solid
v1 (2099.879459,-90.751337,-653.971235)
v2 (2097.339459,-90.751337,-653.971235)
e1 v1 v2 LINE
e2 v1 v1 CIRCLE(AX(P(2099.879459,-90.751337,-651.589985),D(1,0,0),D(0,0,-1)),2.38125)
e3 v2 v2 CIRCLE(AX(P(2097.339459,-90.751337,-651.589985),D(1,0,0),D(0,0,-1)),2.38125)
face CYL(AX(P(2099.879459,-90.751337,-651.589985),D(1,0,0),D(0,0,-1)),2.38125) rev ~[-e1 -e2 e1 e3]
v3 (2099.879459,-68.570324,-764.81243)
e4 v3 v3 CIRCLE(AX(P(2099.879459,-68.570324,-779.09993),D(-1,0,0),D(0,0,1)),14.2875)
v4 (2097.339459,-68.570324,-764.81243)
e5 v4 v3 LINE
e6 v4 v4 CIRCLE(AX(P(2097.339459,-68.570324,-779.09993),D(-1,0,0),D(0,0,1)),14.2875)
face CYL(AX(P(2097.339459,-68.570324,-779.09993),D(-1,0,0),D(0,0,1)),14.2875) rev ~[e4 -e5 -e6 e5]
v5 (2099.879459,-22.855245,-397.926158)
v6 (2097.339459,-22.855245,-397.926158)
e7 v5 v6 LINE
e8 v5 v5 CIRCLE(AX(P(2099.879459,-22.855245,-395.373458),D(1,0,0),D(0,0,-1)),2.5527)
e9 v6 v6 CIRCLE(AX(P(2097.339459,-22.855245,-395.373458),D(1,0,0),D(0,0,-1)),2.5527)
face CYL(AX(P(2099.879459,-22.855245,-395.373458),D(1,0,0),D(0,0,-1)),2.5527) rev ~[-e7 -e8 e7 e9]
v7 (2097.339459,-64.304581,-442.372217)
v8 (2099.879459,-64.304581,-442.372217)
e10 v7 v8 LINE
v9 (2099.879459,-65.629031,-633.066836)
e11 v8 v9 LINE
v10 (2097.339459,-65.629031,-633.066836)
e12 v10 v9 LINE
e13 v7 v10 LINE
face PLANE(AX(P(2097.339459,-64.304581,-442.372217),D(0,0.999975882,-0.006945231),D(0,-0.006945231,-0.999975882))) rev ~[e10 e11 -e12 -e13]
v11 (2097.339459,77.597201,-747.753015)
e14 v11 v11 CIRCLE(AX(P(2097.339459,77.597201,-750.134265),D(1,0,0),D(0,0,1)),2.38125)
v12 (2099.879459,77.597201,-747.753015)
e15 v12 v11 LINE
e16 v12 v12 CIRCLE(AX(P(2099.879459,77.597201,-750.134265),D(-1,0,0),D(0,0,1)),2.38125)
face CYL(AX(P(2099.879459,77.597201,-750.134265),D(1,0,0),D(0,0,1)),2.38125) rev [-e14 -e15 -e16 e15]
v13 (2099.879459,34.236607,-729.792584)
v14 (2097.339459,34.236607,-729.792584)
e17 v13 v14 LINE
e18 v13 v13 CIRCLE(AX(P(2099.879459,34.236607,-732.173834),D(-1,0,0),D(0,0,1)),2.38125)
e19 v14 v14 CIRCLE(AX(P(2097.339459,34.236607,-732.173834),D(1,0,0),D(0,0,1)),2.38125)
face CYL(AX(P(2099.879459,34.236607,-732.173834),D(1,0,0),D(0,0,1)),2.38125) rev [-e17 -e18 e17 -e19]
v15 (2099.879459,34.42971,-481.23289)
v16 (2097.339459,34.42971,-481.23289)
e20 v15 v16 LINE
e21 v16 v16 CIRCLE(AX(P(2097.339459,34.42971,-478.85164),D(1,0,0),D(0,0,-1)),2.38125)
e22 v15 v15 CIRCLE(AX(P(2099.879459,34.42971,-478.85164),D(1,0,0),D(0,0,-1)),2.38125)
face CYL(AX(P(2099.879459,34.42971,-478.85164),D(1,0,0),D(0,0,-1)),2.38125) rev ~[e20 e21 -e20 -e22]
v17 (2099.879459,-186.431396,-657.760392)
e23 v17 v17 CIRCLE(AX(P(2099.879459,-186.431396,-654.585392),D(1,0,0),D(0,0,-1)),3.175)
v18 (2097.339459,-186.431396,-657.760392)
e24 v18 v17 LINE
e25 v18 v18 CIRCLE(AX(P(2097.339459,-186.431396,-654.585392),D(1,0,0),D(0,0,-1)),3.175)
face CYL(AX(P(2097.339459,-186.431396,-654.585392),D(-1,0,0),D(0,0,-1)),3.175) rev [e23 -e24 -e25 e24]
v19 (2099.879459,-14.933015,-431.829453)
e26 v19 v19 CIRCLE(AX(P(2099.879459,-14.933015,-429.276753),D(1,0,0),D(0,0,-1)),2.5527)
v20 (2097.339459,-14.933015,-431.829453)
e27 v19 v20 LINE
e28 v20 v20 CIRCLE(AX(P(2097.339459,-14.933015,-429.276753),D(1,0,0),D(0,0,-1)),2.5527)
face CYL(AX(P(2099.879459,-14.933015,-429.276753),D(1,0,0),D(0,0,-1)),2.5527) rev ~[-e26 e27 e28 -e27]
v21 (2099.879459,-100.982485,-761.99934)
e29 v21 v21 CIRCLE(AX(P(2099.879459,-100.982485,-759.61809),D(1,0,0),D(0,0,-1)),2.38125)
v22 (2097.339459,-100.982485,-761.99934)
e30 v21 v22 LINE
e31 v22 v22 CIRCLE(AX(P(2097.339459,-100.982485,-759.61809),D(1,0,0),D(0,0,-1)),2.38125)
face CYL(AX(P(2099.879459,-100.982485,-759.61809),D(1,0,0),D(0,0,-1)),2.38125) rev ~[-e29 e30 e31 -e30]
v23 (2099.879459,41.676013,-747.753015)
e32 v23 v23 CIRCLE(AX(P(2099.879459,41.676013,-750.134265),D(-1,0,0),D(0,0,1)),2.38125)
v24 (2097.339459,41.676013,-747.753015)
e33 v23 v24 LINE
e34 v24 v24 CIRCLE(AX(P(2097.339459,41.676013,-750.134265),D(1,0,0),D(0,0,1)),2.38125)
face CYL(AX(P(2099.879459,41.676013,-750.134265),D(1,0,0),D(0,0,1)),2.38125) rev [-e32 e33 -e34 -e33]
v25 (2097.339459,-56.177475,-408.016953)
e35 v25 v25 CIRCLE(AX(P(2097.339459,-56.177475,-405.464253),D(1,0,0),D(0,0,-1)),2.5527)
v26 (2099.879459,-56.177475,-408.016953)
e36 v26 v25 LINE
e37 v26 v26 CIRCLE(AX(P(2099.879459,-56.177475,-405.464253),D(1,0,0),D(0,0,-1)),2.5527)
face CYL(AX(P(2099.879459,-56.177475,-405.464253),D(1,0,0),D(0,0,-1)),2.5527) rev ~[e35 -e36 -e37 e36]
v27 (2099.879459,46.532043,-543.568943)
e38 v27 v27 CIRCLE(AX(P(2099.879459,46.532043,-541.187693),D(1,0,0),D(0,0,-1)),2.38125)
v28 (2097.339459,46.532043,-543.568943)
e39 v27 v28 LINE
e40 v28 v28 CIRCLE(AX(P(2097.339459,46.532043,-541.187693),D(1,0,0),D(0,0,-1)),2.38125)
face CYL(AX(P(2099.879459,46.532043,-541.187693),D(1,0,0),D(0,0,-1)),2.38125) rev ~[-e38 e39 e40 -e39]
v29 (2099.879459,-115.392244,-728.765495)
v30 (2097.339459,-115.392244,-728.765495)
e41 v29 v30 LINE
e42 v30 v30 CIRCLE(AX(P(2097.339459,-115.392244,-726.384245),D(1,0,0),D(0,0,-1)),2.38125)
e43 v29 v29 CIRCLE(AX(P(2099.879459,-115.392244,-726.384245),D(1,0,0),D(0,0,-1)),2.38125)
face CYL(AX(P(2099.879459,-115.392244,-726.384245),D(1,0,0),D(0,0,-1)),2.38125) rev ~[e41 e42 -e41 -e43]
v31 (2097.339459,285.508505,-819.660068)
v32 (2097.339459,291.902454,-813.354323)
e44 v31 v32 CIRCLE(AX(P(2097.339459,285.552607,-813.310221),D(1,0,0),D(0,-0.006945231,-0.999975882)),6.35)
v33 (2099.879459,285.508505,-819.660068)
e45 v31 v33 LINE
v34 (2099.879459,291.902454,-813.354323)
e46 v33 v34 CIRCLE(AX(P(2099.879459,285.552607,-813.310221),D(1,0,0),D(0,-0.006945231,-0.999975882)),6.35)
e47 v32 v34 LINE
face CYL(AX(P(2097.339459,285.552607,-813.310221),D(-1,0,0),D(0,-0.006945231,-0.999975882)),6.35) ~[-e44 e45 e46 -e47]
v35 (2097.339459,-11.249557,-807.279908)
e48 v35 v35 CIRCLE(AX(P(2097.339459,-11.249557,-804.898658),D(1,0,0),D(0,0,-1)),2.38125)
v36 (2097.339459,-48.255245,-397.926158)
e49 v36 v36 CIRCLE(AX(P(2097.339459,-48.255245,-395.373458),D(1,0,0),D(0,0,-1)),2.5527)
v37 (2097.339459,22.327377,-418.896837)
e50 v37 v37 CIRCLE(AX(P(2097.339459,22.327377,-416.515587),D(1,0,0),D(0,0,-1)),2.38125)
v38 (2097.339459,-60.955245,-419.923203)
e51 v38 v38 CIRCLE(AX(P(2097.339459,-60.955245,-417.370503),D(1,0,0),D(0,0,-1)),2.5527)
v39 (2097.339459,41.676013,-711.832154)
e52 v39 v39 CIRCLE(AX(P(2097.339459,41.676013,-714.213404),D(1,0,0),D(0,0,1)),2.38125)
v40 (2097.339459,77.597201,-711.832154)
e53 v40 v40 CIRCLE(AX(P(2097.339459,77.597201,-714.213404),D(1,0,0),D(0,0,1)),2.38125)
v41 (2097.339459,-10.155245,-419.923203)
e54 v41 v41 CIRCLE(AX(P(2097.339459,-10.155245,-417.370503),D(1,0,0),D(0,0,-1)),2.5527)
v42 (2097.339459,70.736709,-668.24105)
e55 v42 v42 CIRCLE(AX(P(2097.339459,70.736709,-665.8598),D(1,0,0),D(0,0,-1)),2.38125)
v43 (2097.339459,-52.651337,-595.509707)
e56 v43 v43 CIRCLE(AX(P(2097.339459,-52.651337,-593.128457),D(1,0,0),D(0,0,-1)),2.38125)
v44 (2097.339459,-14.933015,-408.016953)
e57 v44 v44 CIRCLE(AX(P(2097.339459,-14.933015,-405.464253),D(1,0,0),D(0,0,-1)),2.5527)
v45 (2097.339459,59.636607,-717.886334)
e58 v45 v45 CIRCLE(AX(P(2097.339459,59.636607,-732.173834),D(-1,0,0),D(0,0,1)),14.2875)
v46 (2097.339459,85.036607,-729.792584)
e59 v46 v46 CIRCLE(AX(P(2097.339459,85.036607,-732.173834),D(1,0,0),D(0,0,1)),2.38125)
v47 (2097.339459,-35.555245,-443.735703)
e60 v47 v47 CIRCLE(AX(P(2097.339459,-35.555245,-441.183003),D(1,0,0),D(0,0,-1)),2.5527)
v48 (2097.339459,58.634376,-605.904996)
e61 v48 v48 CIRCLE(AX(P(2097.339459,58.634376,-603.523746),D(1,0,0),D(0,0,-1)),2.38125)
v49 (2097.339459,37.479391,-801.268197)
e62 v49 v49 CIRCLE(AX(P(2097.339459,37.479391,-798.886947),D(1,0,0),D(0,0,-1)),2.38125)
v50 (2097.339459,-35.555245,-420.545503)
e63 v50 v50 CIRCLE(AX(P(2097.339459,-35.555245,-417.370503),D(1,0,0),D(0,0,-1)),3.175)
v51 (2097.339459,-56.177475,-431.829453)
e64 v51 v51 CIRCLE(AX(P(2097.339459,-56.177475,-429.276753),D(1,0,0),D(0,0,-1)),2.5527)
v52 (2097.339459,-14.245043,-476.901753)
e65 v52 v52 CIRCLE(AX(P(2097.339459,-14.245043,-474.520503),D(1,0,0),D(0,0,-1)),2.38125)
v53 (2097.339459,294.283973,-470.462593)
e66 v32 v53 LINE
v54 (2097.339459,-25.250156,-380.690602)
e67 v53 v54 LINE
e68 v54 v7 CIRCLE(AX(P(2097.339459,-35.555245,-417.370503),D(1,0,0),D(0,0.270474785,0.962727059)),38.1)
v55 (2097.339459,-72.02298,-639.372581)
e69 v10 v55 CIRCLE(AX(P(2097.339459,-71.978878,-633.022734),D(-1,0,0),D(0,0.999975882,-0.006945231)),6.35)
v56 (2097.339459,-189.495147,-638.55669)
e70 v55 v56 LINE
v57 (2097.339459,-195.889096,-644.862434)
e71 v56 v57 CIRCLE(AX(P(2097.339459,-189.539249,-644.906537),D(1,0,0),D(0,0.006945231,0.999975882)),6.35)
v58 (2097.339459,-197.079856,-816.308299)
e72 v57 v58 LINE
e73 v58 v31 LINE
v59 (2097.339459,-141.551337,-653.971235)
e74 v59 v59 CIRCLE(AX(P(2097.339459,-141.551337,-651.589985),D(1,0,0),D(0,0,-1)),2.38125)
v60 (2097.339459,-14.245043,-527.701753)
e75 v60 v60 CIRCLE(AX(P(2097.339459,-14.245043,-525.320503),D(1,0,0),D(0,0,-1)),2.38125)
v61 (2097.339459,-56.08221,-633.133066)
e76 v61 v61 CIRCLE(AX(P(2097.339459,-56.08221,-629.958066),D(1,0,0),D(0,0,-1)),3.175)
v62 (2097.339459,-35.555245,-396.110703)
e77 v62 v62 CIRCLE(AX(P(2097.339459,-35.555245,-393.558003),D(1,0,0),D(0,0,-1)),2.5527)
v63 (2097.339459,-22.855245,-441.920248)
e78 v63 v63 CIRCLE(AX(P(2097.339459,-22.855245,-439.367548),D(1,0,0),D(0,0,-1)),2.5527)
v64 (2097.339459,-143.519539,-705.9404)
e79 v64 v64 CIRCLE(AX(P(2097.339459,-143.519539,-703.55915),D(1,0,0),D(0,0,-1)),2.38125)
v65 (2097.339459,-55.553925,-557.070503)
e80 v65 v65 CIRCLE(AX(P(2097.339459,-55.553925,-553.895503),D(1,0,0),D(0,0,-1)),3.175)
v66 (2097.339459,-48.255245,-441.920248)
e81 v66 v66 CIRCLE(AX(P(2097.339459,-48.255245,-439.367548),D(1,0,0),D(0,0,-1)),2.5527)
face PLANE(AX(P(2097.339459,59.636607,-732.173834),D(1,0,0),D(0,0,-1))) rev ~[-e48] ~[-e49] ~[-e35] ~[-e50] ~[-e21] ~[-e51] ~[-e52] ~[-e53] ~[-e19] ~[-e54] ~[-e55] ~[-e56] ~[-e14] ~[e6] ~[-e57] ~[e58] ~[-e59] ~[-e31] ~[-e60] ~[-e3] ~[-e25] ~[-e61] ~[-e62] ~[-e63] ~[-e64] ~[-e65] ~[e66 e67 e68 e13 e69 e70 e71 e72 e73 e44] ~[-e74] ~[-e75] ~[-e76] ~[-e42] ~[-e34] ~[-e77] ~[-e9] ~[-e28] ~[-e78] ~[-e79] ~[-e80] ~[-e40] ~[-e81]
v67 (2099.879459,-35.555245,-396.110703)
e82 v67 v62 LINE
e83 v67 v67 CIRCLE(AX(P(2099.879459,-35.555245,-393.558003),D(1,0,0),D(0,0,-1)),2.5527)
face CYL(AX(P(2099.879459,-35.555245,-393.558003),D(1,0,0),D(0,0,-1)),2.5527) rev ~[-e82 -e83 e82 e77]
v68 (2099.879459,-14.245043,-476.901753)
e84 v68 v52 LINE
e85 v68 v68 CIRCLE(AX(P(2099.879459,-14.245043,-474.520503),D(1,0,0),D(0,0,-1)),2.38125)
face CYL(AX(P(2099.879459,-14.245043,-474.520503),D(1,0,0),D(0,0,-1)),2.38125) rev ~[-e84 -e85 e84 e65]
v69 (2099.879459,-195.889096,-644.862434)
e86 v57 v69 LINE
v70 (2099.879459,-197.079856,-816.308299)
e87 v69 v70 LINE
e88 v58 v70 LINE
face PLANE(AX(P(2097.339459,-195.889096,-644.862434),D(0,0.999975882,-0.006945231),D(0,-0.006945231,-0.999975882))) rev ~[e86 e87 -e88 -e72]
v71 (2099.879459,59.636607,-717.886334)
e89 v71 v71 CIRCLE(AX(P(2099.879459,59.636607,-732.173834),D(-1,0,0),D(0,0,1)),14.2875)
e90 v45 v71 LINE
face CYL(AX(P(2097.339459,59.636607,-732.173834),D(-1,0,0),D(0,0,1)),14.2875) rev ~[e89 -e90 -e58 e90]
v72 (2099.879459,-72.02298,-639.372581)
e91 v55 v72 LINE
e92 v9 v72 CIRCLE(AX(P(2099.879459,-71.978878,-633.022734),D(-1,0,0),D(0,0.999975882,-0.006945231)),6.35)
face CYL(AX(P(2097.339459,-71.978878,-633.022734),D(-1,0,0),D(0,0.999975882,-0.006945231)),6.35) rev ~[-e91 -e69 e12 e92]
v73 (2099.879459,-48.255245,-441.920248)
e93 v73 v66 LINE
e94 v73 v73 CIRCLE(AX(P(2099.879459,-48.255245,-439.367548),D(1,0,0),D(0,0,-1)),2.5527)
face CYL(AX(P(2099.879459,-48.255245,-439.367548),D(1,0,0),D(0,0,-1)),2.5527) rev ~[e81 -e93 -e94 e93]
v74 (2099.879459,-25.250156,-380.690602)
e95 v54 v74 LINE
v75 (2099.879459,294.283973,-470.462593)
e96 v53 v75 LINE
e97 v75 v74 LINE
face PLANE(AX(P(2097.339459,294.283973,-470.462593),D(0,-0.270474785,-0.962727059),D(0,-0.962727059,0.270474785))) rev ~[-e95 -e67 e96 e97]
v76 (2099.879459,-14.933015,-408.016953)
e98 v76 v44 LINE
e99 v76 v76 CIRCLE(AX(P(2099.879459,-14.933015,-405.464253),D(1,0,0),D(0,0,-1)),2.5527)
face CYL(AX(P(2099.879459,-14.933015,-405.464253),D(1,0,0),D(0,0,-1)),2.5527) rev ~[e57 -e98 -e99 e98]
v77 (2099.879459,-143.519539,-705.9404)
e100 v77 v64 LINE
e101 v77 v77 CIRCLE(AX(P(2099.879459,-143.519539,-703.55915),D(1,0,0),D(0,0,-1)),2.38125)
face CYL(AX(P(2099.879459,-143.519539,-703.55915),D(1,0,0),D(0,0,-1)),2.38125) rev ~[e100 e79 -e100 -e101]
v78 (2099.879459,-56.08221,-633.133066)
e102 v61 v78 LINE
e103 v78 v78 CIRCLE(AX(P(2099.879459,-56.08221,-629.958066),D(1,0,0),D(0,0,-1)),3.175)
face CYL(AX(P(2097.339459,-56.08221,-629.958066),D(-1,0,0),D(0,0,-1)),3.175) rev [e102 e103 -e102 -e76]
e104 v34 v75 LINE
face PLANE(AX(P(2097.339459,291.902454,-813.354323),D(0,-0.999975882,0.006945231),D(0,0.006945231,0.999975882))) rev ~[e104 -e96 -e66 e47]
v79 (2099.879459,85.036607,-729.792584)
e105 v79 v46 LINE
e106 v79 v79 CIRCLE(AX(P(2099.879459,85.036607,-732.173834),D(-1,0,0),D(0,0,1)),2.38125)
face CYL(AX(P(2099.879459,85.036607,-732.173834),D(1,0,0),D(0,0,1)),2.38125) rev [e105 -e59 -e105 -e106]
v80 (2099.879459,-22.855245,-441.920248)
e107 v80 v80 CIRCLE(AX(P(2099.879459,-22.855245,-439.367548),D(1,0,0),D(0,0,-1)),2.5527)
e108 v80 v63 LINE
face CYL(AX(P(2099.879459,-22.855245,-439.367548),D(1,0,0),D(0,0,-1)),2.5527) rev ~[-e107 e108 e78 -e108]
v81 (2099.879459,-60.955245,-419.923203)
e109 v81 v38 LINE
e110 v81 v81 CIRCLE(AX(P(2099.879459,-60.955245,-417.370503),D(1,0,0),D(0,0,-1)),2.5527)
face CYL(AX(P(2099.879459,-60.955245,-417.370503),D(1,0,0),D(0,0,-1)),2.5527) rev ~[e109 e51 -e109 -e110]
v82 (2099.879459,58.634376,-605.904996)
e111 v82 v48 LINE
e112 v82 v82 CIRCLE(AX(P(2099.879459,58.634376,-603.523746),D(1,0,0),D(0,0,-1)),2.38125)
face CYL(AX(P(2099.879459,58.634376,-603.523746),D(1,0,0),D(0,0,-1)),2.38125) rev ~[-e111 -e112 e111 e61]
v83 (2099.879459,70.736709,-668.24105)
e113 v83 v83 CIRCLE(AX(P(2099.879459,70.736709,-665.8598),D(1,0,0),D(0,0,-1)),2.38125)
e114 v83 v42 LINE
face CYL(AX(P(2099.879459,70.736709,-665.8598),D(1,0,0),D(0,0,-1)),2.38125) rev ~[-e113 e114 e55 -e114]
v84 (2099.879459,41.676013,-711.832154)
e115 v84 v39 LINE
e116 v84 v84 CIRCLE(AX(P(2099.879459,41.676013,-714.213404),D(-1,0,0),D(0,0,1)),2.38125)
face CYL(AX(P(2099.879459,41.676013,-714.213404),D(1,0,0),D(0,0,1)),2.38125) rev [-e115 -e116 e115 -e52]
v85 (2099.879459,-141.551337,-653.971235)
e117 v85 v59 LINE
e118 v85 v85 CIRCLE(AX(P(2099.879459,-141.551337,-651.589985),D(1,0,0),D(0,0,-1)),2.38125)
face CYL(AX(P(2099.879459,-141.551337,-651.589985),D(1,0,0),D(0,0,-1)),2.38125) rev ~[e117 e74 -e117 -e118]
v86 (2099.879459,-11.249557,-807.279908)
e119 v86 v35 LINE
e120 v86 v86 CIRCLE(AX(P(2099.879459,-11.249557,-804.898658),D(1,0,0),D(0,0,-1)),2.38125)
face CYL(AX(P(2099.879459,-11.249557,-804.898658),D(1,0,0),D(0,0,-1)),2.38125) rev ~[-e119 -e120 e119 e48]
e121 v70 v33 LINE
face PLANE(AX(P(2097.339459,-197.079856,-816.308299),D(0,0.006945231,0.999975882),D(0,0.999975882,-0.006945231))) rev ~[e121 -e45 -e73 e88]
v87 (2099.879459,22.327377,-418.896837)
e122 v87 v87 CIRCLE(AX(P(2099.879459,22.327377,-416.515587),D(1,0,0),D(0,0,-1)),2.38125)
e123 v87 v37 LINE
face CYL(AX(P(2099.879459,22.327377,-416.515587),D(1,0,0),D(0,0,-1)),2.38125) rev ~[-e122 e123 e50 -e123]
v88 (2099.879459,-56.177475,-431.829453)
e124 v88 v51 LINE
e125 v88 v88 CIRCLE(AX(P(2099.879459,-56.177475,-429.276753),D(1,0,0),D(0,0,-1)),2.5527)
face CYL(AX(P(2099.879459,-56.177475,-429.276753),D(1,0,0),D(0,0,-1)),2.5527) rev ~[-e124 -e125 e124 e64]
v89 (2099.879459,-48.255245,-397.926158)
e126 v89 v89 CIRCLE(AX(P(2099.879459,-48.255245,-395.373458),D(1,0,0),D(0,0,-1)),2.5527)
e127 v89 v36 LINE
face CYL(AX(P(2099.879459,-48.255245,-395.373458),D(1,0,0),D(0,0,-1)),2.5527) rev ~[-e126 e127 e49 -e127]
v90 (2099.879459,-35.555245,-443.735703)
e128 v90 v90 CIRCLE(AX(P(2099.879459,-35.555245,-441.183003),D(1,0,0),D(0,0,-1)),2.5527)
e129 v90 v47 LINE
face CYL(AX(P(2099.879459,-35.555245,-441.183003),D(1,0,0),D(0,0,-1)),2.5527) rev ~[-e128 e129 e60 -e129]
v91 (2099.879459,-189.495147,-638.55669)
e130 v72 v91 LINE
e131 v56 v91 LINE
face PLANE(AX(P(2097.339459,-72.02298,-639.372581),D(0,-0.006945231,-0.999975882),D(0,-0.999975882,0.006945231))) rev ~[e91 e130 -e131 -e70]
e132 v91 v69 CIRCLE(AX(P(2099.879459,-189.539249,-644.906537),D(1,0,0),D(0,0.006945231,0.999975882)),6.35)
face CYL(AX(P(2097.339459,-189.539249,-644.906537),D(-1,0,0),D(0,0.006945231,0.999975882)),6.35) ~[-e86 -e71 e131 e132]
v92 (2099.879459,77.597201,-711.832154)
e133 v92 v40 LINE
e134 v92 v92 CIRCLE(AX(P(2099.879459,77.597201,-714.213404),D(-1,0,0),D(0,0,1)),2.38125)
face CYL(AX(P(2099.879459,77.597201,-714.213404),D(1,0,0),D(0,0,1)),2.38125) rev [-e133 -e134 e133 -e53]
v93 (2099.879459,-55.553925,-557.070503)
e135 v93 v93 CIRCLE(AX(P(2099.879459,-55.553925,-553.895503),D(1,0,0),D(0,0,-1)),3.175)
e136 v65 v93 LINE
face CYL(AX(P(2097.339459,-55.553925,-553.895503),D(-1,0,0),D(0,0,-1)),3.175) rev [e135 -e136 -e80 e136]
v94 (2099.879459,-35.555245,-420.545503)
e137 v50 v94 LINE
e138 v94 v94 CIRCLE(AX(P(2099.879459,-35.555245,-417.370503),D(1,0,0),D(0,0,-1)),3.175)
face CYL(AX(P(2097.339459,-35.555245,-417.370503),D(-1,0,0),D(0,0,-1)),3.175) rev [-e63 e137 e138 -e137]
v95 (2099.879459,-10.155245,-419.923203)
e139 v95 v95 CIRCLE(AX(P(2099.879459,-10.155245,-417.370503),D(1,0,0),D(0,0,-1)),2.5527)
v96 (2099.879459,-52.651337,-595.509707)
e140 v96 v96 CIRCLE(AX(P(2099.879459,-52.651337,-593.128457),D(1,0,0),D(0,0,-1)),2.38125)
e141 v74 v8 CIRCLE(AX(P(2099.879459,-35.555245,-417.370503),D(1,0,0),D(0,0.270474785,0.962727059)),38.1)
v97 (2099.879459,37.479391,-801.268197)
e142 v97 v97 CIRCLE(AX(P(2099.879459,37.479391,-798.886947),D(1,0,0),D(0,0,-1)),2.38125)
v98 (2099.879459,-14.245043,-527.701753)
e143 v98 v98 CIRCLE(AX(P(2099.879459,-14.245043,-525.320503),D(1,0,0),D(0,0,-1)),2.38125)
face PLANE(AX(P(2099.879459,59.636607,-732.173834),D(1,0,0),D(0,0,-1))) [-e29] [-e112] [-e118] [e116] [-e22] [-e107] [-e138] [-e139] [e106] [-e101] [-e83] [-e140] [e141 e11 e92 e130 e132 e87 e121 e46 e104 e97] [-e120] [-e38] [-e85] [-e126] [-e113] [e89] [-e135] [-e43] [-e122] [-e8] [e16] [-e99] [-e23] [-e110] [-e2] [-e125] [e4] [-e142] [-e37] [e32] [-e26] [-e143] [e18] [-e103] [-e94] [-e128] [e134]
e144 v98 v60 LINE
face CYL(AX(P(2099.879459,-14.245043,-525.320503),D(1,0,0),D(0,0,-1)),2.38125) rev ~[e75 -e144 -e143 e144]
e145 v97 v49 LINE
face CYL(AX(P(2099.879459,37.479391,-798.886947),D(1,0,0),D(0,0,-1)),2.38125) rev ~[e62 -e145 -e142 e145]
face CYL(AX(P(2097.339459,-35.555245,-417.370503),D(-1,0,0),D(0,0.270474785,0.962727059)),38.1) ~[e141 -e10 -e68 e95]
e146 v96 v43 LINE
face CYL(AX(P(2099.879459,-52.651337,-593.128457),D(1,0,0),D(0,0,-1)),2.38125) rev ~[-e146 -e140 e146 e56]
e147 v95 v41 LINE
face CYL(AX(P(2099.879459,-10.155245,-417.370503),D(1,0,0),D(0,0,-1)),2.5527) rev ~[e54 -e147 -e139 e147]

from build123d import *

# Parameters (mm, degrees)
SKETCH1_R           = 3.175
BOSS_EXTRUDE1_DEPTH = 2.54
SKETCH2_R           = 2.38125
CUT_EXTRUDE1_DEPTH  = 3.54
SKETCH5_R           = 2.5527
CUT_EXTRUDE2_DEPTH  = 3.54
SKETCH6_R           = 2.38125
SKETCH6_R_2         = 14.1605
CUT_EXTRUDE3_DEPTH  = 3.54
SKETCH7_R           = 14.1605
SKETCH7_R_2         = 2.38125
BOSS_EXTRUDE2_DEPTH = 2.54
SKETCH8_R           = 14.2875
CUT_EXTRUDE4_DEPTH  = 3.54


with BuildPart() as part:
    # Sketch1 → Boss-Extrude1 (new body)
    with BuildSketch(Plane(origin=(2097.33945945, 0, 0), x_dir=(0, 0, -1), z_dir=(1, 0, 0))):
        with BuildLine():
            Line((470.462593133, 294.283973481), (380.69060226, -25.250155611))
            ThreePointArc((380.69060226, -25.250155611), (396.988966218, -67.7453513), (442.372216694, -64.304580962))
            Line((442.372216694, -64.304580962), (633.066836095, -65.629031002))
            ThreePointArc((633.066836095, -65.629031002), (637.543938621, -67.520043059), (639.372580729, -72.022980064))
            Line((639.372580729, -72.022980064), (638.556689771, -189.495146754))
            ThreePointArc((638.556689771, -189.495146754), (640.385331878, -193.998083759), (644.862434405, -195.889095816))
            Line((644.862434405, -195.889095816), (816.308299304, -197.079855594))
            Line((816.308299304, -197.079855594), (819.660067566, 285.508504864))
            ThreePointArc((819.660067566, 285.508504864), (817.831425459, 290.01144187), (813.354322932, 291.902453927))
            Line((813.354322932, 291.902453927), (470.462593133, 294.283973481))
        make_face()
        with Locations((553.895503221, -55.553924847)):
            Circle(SKETCH1_R, mode=Mode.SUBTRACT)
        with Locations((738.492000758, 61.775645376)):
            Circle(SKETCH1_R, mode=Mode.SUBTRACT)
        with Locations((779.099930223, -68.570323835)):
            Circle(SKETCH1_R, mode=Mode.SUBTRACT)
        with Locations((654.585392145, -186.431395895)):
            Circle(SKETCH1_R, mode=Mode.SUBTRACT)
        with Locations((417.370503221, -35.55524491)):
            Circle(SKETCH1_R, mode=Mode.SUBTRACT)
        with Locations((629.958065992, -56.082209622)):
            Circle(SKETCH1_R, mode=Mode.SUBTRACT)
    extrude(amount=BOSS_EXTRUDE1_DEPTH)

    # Sketch2 → Cut-Extrude1 (cut, through all)
    with BuildSketch(Plane(origin=(2099.87945945, 0, 0), x_dir=(0, 0, -1), z_dir=(1, 0, 0))):
        with Locations((759.618090186, -100.982485439)):
            Circle(SKETCH2_R)
        with Locations((541.187693092, 46.53204311)):
            Circle(SKETCH2_R)
        with Locations((478.851639869, 34.42970992)):
            Circle(SKETCH2_R)
        with Locations((416.515586647, 22.327376731)):
            Circle(SKETCH2_R)
        with Locations((525.320503221, -14.245042905)):
            Circle(SKETCH2_R)
        with Locations((798.886947172, 37.479390763)):
            Circle(SKETCH2_R)
        with Locations((665.859799537, 70.736709489)):
            Circle(SKETCH2_R)
        with Locations((603.523746314, 58.634376299)):
            Circle(SKETCH2_R)
        with Locations((703.559149884, -143.519538535)):
            Circle(SKETCH2_R)
        with Locations((726.384244699, -115.392244277)):
            Circle(SKETCH2_R)
        with Locations((804.898658391, -11.249556635)):
            Circle(SKETCH2_R)
        with Locations((474.520503221, -14.245042905)):
            Circle(SKETCH2_R)
        with Locations((651.589984927, -141.551336746)):
            Circle(SKETCH2_R)
        with Locations((651.589984927, -90.751336746)):
            Circle(SKETCH2_R)
        with Locations((593.128456503, -52.651336746)):
            Circle(SKETCH2_R)
    extrude(amount=-CUT_EXTRUDE1_DEPTH, mode=Mode.SUBTRACT)

    # Sketch5 → Cut-Extrude2 (cut, through all)
    with BuildSketch(Plane(origin=(2099.87945945, 0, 0), x_dir=(0, 0, -1), z_dir=(1, 0, 0))):
        with Locations((395.373457964, -48.255244909)):
            Circle(SKETCH5_R)
        with Locations((405.46425322, -56.177474835)):
            Circle(SKETCH5_R)
        with Locations((395.373457964, -22.855244907)):
            Circle(SKETCH5_R)
        with Locations((393.55800322, -35.555244908)):
            Circle(SKETCH5_R)
        with Locations((417.370503221, -10.155244906)):
            Circle(SKETCH5_R)
        with Locations((405.46425322, -14.93301498)):
            Circle(SKETCH5_R)
        with Locations((439.367548478, -22.855244907)):
            Circle(SKETCH5_R)
        with Locations((429.276753221, -14.93301498)):
            Circle(SKETCH5_R)
        with Locations((439.367548478, -48.255244909)):
            Circle(SKETCH5_R)
        with Locations((441.183003221, -35.555244908)):
            Circle(SKETCH5_R)
        with Locations((417.370503221, -60.955244909)):
            Circle(SKETCH5_R)
        with Locations((429.276753221, -56.177474835)):
            Circle(SKETCH5_R)
    extrude(amount=-CUT_EXTRUDE2_DEPTH, mode=Mode.SUBTRACT)

    # Sketch6 → Cut-Extrude3 (cut, through all)
    with BuildSketch(Plane.ZY.offset(-2099.87945945)):
        with Locations((-714.213403899, 41.676013157)):
            Circle(SKETCH6_R)
        with Locations((-714.213403899, 77.597201157)):
            Circle(SKETCH6_R)
        with Locations((-732.173834383, 85.036607157)):
            Circle(SKETCH6_R)
        with Locations((-750.134264867, 77.597201157)):
            Circle(SKETCH6_R)
        with Locations((-750.134264867, 41.676013157)):
            Circle(SKETCH6_R)
        with Locations((-732.173834383, 34.236607157)):
            Circle(SKETCH6_R)
        with Locations((-732.173834383, 59.636607157)):
            Circle(SKETCH6_R_2)
    extrude(amount=CUT_EXTRUDE3_DEPTH, mode=Mode.SUBTRACT)

    # Sketch7 → Boss-Extrude2 (add)
    with BuildSketch(Plane(origin=(2099.87945945, 0, 0), x_dir=(0, 0, -1), z_dir=(1, 0, 0))):
        with Locations((732.173834383, 59.636607157)):
            Circle(SKETCH7_R)
        with Locations((732.173834383, 59.636607157)):
            Circle(SKETCH7_R_2, mode=Mode.SUBTRACT)
    extrude(amount=-BOSS_EXTRUDE2_DEPTH)

    # Sketch8 → Cut-Extrude4 (cut, through all)
    with BuildSketch(Plane.ZY.offset(-2097.33945945)):
        with Locations((-732.173834383, 59.636607157)):
            Circle(SKETCH8_R)
        with Locations((-779.099930223, -68.570323835)):
            Circle(SKETCH8_R)
    extrude(amount=-CUT_EXTRUDE4_DEPTH, mode=Mode.SUBTRACT)


solid = part.part
